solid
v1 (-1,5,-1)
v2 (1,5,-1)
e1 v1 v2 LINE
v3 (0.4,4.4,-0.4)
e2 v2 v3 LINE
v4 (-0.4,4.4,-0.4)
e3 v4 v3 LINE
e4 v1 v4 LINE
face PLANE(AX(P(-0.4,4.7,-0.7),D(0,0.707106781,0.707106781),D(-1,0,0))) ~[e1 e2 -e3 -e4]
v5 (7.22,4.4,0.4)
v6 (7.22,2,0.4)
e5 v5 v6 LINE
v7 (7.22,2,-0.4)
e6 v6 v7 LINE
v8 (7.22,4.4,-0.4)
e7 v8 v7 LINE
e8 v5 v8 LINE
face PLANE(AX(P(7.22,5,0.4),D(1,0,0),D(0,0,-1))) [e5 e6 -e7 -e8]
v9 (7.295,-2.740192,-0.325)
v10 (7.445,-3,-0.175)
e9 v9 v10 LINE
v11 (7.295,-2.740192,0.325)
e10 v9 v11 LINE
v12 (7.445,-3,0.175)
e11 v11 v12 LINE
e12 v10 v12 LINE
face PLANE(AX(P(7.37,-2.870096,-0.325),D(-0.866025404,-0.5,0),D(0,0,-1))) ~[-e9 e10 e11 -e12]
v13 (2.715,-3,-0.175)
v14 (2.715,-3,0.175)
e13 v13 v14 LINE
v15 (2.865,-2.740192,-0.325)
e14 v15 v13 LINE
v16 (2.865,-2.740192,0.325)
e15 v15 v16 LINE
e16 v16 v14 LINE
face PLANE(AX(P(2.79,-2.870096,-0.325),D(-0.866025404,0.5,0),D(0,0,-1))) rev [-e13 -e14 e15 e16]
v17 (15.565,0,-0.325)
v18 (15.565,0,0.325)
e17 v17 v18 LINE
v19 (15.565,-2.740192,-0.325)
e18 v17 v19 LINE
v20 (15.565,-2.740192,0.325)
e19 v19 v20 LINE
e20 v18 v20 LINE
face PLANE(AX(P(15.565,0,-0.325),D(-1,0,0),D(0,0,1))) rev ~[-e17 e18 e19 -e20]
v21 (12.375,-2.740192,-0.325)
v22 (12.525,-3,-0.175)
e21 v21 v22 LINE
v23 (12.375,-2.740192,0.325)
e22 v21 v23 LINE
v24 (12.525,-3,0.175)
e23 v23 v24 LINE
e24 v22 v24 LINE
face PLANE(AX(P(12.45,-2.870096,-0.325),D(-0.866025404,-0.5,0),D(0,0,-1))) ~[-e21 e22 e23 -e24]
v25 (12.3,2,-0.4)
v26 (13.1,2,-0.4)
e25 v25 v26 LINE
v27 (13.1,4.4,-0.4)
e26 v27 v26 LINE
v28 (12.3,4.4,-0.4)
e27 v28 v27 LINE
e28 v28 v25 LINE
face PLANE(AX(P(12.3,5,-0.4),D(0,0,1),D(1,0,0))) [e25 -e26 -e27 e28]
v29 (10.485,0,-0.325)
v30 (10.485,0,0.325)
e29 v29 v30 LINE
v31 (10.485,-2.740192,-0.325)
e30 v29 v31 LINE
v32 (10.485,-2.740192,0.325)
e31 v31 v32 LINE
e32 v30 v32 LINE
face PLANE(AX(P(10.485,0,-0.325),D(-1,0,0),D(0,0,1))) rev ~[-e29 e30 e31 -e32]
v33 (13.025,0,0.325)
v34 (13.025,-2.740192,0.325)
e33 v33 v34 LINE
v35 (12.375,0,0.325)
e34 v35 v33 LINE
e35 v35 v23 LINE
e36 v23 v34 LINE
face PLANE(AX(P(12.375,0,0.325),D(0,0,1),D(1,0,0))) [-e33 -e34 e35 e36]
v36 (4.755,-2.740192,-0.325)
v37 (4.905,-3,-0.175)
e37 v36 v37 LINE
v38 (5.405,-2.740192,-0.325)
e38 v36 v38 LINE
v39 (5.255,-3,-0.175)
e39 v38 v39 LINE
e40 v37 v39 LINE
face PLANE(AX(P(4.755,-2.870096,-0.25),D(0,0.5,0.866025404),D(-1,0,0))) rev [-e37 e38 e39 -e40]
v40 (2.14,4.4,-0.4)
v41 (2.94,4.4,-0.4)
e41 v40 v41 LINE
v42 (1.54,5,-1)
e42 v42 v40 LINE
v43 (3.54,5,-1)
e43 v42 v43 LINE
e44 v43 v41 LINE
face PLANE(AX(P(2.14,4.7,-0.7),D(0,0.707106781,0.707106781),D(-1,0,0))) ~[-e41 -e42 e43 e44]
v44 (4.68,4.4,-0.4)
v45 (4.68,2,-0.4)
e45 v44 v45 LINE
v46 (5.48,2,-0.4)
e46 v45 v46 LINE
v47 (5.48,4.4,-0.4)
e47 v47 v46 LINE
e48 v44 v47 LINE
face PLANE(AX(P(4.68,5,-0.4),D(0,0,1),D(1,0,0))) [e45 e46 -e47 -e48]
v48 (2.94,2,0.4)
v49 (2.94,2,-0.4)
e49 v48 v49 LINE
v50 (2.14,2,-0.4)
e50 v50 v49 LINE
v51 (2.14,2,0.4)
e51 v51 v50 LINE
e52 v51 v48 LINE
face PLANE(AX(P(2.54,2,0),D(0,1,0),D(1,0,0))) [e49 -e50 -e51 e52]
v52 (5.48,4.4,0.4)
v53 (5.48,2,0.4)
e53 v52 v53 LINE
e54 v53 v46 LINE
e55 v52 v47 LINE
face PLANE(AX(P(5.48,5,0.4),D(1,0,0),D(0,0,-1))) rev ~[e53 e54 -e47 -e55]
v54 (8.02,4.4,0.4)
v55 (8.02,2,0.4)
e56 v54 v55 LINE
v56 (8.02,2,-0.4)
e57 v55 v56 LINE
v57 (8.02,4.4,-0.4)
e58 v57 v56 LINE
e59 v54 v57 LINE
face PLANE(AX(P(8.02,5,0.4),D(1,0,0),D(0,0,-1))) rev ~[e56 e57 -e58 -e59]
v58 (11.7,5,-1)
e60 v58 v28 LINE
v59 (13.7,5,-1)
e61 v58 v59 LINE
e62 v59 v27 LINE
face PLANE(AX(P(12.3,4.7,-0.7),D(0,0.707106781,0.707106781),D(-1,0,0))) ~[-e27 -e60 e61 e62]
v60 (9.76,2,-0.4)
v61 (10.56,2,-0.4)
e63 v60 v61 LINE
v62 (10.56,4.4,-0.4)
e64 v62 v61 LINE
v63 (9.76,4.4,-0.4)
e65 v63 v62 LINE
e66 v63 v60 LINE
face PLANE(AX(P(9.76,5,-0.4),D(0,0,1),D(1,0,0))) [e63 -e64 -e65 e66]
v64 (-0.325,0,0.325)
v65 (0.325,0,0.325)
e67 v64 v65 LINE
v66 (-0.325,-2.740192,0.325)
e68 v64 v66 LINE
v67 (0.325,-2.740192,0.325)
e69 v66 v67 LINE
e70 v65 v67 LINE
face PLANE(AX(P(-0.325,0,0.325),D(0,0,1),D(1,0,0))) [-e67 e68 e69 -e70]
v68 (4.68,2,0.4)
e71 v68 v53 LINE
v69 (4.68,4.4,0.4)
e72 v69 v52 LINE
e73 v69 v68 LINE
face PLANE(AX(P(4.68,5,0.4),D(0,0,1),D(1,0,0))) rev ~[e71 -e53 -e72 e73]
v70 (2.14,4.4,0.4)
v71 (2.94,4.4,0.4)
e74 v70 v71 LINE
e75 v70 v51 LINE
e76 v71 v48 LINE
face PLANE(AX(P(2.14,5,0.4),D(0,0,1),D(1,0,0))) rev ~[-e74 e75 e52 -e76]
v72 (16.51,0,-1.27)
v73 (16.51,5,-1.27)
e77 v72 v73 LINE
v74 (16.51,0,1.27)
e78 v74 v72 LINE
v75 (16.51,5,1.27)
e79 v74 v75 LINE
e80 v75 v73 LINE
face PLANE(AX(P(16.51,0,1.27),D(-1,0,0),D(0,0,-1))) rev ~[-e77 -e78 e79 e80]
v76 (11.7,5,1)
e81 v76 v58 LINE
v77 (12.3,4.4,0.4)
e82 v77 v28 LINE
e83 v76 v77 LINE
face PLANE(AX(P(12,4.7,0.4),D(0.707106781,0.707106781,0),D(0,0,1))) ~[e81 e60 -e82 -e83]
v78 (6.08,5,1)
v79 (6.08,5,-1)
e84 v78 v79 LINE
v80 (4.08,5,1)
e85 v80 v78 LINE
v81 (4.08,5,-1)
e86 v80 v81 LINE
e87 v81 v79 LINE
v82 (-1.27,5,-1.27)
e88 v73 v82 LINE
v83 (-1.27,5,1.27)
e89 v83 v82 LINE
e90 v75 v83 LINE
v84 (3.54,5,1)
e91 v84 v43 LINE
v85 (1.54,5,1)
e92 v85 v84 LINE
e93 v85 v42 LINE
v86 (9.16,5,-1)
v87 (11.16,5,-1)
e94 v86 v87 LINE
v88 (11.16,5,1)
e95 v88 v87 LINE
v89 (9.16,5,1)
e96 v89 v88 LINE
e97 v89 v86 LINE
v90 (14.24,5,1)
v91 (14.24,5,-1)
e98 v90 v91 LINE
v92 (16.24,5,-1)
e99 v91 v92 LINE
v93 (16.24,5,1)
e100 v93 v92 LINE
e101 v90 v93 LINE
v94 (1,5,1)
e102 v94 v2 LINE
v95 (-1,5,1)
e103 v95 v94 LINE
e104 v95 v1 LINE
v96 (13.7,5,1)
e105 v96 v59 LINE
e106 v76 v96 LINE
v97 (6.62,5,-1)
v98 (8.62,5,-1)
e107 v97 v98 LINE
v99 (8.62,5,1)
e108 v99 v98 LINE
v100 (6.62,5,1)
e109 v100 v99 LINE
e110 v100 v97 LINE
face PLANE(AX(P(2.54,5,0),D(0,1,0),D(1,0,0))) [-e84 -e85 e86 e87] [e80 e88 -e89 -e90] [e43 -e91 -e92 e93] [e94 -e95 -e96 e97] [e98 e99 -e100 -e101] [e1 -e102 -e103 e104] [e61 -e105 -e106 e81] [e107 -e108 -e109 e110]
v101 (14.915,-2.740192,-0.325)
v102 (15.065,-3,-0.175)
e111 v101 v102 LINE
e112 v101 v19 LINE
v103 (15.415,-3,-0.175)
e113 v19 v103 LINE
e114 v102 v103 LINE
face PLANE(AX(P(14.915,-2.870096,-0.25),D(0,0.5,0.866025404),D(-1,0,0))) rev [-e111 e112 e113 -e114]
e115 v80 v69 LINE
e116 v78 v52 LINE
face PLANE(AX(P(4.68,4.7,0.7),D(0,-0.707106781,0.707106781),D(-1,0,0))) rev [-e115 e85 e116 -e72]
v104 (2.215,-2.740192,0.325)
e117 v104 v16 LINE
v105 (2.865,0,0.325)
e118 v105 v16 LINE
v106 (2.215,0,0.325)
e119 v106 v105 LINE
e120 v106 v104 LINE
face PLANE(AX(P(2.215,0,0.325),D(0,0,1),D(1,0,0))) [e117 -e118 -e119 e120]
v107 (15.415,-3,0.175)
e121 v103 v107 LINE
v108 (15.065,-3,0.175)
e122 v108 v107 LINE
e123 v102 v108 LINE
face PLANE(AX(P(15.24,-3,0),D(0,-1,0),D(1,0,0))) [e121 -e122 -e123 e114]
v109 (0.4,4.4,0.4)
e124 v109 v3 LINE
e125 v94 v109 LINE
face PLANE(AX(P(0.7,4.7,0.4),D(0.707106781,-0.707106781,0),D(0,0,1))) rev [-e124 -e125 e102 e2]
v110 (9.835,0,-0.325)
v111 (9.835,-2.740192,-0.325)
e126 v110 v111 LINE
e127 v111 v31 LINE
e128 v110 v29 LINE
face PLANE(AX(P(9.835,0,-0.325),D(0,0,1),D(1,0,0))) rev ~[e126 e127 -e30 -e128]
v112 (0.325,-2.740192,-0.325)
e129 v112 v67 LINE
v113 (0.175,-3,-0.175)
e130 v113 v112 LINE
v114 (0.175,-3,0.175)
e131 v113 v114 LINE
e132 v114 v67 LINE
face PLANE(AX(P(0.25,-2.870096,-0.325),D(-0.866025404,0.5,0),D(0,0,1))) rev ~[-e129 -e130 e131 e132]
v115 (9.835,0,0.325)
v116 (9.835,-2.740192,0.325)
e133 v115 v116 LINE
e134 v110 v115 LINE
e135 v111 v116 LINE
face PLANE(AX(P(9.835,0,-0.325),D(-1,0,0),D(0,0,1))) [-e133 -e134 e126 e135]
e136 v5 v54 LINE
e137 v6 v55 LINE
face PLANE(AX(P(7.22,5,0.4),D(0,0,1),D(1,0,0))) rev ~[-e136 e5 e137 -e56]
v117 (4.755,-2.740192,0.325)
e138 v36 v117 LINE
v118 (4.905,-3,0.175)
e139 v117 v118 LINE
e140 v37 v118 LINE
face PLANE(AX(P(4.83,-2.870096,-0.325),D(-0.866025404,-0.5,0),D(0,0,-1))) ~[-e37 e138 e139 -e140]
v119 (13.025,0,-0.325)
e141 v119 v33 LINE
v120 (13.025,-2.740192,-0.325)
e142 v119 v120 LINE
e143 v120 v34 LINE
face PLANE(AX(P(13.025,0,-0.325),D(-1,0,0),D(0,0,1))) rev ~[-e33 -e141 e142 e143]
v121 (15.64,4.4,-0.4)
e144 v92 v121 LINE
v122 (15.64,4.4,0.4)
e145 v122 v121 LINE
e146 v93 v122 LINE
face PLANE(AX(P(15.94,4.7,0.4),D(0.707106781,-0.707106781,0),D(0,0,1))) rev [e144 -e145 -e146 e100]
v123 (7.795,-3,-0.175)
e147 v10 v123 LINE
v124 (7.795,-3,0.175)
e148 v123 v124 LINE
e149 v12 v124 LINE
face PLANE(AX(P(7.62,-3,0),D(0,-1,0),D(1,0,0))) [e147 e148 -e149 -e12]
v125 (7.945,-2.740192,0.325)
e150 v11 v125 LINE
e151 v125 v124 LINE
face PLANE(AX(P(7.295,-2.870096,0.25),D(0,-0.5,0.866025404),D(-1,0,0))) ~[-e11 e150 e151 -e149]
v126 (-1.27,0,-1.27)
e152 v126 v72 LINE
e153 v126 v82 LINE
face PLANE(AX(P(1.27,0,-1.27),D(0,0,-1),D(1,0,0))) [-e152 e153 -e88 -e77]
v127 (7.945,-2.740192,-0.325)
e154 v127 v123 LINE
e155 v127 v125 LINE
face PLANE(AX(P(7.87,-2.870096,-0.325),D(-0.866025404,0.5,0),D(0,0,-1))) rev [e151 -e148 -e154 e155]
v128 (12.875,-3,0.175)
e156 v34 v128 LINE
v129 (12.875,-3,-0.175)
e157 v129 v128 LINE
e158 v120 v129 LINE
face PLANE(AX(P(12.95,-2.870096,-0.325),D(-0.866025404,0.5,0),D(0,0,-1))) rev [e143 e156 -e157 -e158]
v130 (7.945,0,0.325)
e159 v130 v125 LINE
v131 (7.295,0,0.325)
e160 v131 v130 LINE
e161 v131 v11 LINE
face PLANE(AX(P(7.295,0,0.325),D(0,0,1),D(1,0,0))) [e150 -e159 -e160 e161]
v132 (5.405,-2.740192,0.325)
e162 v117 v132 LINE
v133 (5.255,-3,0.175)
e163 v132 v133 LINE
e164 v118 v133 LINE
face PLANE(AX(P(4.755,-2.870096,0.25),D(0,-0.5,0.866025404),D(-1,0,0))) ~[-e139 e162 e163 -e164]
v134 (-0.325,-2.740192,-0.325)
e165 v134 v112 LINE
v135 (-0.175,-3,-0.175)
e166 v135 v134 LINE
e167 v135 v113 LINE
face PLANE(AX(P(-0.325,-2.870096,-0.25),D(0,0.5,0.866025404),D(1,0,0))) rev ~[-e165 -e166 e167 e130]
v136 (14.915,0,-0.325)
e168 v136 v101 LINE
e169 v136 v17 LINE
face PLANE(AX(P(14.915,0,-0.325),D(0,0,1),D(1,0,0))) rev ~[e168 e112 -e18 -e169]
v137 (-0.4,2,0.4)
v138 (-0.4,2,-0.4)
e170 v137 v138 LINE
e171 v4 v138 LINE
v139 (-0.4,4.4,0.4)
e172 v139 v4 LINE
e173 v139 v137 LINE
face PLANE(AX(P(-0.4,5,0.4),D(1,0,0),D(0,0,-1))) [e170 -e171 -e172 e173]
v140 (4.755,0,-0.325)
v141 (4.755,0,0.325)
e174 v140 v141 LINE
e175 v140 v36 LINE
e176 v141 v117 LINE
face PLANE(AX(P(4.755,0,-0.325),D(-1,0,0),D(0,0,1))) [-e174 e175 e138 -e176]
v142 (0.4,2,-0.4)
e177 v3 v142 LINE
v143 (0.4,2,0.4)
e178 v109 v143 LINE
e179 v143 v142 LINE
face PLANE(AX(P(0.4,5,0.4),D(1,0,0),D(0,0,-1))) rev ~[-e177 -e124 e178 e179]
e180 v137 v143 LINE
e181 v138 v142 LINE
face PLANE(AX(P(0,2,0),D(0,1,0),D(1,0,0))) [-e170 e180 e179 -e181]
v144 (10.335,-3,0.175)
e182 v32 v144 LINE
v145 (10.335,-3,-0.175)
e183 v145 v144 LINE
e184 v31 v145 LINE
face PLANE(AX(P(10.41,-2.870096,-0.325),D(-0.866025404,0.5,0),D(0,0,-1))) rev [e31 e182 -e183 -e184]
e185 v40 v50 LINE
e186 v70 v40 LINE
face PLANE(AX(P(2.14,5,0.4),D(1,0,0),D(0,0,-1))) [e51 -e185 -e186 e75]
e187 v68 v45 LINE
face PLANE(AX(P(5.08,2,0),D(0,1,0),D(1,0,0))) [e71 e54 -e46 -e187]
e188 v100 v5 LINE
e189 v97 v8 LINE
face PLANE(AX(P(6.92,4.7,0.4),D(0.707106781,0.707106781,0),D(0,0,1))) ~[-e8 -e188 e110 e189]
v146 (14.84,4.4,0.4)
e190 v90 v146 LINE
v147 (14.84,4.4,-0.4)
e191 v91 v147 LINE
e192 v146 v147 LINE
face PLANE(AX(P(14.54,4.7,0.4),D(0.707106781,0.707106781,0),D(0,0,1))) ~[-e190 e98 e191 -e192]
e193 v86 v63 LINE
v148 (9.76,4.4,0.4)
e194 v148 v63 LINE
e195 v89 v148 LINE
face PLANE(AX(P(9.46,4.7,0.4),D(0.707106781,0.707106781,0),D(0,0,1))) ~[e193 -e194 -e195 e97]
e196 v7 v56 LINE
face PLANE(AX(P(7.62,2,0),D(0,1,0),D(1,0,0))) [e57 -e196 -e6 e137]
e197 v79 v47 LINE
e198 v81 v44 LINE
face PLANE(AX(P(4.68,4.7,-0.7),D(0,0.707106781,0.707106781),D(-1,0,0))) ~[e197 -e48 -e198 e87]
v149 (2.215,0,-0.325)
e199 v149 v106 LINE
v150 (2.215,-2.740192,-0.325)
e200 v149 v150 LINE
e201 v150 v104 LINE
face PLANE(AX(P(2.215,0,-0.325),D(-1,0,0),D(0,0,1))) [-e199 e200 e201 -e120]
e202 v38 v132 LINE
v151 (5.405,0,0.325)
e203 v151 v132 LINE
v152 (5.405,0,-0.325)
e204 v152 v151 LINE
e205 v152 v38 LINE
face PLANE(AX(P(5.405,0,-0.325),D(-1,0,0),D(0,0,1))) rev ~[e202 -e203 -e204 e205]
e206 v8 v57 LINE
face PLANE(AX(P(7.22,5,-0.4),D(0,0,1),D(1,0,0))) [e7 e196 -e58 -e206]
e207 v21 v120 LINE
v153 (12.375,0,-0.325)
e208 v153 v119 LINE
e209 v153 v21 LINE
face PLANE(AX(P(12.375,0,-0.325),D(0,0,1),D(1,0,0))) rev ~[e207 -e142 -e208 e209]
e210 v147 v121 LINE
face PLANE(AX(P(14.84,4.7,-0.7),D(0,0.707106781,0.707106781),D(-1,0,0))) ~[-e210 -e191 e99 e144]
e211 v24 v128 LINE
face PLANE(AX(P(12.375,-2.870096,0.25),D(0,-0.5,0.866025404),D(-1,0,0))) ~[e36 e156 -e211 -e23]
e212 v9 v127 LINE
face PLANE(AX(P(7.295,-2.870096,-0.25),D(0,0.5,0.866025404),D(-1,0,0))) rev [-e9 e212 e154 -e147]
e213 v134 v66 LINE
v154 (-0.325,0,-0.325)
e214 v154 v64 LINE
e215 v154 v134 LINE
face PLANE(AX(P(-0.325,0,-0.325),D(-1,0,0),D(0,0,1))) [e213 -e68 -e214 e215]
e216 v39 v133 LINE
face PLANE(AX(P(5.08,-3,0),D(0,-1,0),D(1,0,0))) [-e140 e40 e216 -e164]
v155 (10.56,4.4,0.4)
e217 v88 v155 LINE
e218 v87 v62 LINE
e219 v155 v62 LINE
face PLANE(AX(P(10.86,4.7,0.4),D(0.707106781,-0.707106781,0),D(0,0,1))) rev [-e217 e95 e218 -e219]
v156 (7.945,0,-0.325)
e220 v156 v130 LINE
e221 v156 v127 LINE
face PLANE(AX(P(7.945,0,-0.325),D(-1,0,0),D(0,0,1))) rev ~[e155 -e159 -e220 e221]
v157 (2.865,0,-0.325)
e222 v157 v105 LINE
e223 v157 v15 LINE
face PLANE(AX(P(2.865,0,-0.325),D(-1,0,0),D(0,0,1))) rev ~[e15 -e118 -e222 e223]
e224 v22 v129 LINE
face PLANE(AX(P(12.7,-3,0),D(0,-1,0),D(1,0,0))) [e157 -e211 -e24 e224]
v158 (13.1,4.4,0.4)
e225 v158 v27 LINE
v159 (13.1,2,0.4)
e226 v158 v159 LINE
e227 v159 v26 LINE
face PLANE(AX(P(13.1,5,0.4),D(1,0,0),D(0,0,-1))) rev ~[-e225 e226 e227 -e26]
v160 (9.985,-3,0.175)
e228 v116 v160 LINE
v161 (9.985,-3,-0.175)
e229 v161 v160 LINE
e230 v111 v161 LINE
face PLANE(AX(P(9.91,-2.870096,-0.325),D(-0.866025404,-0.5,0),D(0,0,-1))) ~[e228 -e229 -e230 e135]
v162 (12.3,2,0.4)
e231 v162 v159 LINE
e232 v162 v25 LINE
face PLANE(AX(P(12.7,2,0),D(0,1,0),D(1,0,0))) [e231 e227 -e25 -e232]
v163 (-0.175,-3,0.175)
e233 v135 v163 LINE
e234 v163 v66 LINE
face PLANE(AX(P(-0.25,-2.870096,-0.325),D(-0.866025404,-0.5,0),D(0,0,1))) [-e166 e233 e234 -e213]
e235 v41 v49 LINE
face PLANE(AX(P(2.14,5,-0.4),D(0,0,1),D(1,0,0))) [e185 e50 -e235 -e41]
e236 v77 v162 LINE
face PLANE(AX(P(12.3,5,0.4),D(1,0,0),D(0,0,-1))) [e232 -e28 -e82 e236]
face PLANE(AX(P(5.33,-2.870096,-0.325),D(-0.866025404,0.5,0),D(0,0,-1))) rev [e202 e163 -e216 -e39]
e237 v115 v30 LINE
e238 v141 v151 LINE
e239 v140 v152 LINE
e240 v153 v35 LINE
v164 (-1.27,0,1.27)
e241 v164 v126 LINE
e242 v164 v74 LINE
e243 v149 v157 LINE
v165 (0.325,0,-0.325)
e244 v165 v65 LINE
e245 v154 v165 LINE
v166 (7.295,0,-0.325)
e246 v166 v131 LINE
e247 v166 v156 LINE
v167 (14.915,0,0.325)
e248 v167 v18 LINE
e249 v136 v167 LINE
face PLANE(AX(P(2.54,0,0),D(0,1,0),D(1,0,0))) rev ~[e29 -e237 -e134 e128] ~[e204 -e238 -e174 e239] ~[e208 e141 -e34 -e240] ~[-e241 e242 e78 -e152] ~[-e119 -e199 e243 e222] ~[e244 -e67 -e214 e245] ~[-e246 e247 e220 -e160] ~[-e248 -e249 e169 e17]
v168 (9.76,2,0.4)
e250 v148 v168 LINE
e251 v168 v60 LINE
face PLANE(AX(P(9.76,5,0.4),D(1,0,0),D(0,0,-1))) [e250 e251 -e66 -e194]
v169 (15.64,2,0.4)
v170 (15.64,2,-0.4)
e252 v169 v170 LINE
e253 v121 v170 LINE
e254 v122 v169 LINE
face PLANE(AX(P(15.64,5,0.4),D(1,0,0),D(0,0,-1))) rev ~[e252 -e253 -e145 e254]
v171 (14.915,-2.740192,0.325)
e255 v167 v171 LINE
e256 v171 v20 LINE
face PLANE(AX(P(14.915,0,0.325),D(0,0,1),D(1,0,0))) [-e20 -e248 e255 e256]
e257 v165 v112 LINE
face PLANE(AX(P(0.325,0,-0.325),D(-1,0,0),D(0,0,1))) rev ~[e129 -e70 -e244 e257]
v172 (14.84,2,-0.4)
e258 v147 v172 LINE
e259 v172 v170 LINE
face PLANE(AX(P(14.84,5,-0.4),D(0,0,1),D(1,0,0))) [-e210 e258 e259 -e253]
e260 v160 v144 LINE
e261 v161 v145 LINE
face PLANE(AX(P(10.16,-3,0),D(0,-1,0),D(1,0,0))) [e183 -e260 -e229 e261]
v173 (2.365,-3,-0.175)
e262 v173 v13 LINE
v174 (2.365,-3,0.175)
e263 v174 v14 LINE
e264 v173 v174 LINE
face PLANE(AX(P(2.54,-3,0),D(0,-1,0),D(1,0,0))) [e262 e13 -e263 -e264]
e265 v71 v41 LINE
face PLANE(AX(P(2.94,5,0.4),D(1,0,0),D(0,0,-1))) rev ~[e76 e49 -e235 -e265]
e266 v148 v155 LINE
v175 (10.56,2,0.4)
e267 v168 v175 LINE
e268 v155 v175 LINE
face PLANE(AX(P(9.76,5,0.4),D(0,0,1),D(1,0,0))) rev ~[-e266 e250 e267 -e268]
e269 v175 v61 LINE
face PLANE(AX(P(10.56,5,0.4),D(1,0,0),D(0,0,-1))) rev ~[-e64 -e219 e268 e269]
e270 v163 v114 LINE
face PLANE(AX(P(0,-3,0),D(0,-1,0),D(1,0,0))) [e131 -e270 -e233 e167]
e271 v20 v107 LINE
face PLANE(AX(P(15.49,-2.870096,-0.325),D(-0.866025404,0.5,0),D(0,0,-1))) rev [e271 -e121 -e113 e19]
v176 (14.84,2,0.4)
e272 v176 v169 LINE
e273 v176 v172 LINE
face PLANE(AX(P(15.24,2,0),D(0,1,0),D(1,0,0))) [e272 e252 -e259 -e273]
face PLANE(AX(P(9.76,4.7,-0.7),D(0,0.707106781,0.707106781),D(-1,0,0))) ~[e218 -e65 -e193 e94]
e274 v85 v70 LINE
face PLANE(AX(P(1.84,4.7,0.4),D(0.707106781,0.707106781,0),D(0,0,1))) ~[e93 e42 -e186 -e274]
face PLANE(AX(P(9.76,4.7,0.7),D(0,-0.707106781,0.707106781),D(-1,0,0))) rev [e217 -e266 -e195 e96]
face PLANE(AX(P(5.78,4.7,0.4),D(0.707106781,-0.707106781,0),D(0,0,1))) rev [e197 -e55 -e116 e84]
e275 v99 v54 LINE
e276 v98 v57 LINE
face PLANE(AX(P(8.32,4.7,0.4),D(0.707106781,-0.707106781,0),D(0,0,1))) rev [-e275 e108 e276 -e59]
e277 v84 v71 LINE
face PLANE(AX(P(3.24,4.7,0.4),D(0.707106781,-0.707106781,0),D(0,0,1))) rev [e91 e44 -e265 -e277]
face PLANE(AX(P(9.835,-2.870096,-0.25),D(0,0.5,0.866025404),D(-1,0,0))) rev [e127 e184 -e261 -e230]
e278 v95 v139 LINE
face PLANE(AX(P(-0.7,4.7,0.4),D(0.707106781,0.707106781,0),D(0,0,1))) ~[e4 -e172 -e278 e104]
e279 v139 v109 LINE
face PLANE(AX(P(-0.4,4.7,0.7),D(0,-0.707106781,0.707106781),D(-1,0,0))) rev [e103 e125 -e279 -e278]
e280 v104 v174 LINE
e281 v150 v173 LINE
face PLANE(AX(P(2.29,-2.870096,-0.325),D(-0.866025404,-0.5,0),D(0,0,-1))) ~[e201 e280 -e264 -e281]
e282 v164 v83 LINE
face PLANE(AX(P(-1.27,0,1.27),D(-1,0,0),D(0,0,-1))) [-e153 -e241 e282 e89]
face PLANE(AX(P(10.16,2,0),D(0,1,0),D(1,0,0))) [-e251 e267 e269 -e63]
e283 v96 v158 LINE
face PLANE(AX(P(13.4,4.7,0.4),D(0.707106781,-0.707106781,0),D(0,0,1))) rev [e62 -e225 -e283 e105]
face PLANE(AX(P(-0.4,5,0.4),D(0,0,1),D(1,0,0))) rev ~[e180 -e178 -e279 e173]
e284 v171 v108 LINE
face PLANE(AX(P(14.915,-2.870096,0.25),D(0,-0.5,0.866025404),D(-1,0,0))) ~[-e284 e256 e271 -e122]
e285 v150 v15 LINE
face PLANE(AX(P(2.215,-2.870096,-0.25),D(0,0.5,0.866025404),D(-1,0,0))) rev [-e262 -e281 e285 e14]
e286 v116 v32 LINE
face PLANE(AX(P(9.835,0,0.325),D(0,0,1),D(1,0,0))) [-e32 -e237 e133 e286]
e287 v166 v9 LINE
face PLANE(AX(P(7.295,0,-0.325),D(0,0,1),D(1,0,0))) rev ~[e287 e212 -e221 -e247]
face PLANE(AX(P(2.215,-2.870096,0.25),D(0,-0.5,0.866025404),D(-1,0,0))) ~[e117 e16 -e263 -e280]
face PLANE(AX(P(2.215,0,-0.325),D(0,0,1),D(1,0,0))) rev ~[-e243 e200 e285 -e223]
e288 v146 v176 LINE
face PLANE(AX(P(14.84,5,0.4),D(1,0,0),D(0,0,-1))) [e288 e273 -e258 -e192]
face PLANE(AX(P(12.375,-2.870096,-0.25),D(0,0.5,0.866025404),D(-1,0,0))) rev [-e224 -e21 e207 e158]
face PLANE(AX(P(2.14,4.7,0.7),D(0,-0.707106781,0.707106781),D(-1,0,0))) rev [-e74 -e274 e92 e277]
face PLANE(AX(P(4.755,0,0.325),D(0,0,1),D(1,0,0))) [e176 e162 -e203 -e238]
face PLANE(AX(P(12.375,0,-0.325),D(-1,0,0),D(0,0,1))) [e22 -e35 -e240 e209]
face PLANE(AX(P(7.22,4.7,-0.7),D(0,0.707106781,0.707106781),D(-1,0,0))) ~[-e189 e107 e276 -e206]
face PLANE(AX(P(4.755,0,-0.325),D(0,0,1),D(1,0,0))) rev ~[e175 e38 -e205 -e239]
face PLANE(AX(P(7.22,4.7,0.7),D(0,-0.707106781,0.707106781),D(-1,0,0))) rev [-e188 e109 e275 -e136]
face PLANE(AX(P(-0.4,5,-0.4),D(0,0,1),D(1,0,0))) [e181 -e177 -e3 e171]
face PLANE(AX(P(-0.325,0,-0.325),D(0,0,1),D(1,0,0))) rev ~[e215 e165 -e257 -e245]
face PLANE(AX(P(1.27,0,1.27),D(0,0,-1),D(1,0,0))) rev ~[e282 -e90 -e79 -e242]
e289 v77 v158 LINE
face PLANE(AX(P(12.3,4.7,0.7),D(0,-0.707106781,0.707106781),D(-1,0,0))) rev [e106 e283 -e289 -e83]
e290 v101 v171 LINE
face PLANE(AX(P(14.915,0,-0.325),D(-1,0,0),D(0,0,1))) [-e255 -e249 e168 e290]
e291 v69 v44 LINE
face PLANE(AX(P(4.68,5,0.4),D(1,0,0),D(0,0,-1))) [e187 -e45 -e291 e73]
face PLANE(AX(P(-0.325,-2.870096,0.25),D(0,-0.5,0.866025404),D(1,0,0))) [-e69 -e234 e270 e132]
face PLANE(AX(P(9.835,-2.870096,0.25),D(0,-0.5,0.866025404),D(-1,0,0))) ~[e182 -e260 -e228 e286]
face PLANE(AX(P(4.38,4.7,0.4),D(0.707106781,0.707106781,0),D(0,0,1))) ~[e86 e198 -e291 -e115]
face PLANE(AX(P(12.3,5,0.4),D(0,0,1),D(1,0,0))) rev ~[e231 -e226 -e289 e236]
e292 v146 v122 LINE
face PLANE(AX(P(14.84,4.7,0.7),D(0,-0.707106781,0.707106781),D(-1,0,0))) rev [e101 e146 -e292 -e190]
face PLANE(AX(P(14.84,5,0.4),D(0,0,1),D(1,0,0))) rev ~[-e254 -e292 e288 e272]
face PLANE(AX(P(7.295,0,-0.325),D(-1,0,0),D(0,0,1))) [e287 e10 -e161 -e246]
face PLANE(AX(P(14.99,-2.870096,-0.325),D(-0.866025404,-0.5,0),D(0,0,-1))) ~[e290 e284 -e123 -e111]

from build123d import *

# Parameters (mm, degrees)
SKETCH1_W                   = 2.54
SKETCH1_H                   = 2.54
BOSS_EXTRUDE1_DEPTH         = 5
SKETCH2_W                   = 0.65
SKETCH2_H                   = 0.65
BOSS_EXTRUDE2_DEPTH         = 3
CHAMFER1_SIZE               = 0.15
CHAMFER1_SIZE2              = 0.259807621
SKETCH3_W                   = 0.8
SKETCH3_H                   = 0.8
CUT_EXTRUDE1_DEPTH          = 3
CHAMFER2_SIZE               = 0.6
LPATTERN1_COUNT             = 7
LPATTERN1_PITCH             = 2.54
CHAMFER1_OF_LPATTERN1_SIZE2 = 0.15
CHAMFER1_OF_LPATTERN1_SIZE  = 0.259807621
CHAMFER2_OF_LPATTERN1_SIZE  = 0.6


with BuildPart() as part:
    # Sketch1 → Boss-Extrude1 (new body)
    with BuildSketch(Plane(origin=(0, 0, 0), x_dir=(1, 0, 0), z_dir=(0, 1, 0))):
        Rectangle(SKETCH1_W, SKETCH1_H)
    boss_extrude1 = extrude(amount=BOSS_EXTRUDE1_DEPTH)

    # Sketch2 → Boss-Extrude2 (add)
    with BuildSketch(Plane.XZ):
        Rectangle(SKETCH2_W, SKETCH2_H)
    boss_extrude2 = extrude(amount=BOSS_EXTRUDE2_DEPTH)

    # Chamfer1
    chamfer1_edges = [part.edges().sort_by_distance(p)[0] for p in [
        (0.325, -3, 0),
        (0, -3, 0.325),
        (-0.325, -3, 0),
        (0, -3, -0.325),
    ]]
    chamfer1_side = [part.faces().sort_by_distance(p)[0] for p in [
        (0, -3, 0),
    ]]
    chamfer(chamfer1_edges, length=CHAMFER1_SIZE, length2=CHAMFER1_SIZE2, reference=chamfer1_side[0])

    # Sketch3 → Cut-Extrude1 (cut)
    with BuildSketch(Plane(origin=(0, 5, 0), x_dir=(1, 0, 0), z_dir=(0, 1, 0))):
        Rectangle(SKETCH3_W, SKETCH3_H)
    cut_extrude1 = extrude(amount=-CUT_EXTRUDE1_DEPTH, mode=Mode.SUBTRACT)

    # Chamfer2
    chamfer2_edges = [part.edges().sort_by_distance(p)[0] for p in [
        (0.4, 5, 0),
        (0, 5, -0.4),
        (-0.4, 5, 0),
        (0, 5, 0.4),
    ]]
    chamfer(chamfer2_edges, length=CHAMFER2_SIZE)

    # LPattern1: Boss-Extrude1, Boss-Extrude2, Cut-Extrude1 ×7
    with Locations(*[(i * LPATTERN1_PITCH, 0, 0) for i in range(1, LPATTERN1_COUNT)]):
        add(boss_extrude1)
        add(boss_extrude2)
        add(cut_extrude1, mode=Mode.SUBTRACT)

    # Chamfer1 of LPattern1
    chamfer1_of_lpattern1_edges = [part.edges().sort_by_distance(p)[0] for p in [
        (2.865, -3, 0),
        (2.54, -3, 0.325),
        (2.215, -3, 0),
        (2.54, -3, -0.325),
        (5.405, -3, 0),
        (5.08, -3, 0.325),
        (4.755, -3, 0),
        (5.08, -3, -0.325),
        (7.945, -3, 0),
        (7.62, -3, 0.325),
        (7.295, -3, 0),
        (7.62, -3, -0.325),
        (10.485, -3, 0),
        (10.16, -3, 0.325),
        (9.835, -3, 0),
        (10.16, -3, -0.325),
        (13.025, -3, 0),
        (12.7, -3, 0.325),
        (12.375, -3, 0),
        (12.7, -3, -0.325),
        (15.565, -3, 0),
        (15.24, -3, 0.325),
        (14.915, -3, 0),
        (15.24, -3, -0.325),
    ]]
    chamfer(chamfer1_of_lpattern1_edges, length=CHAMFER1_OF_LPATTERN1_SIZE, length2=CHAMFER1_OF_LPATTERN1_SIZE2)

    # Chamfer2 of LPattern1
    chamfer2_of_lpattern1_edges = [part.edges().sort_by_distance(p)[0] for p in [
        (2.94, 5, 0),
        (2.54, 5, -0.4),
        (2.14, 5, 0),
        (2.54, 5, 0.4),
        (5.48, 5, 0),
        (5.08, 5, -0.4),
        (4.68, 5, 0),
        (5.08, 5, 0.4),
        (8.02, 5, 0),
        (7.62, 5, -0.4),
        (7.22, 5, 0),
        (7.62, 5, 0.4),
        (10.56, 5, 0),
        (10.16, 5, -0.4),
        (9.76, 5, 0),
        (10.16, 5, 0.4),
        (13.1, 5, 0),
        (12.7, 5, -0.4),
        (12.3, 5, 0),
        (12.7, 5, 0.4),
        (15.64, 5, 0),
        (15.24, 5, -0.4),
        (14.84, 5, 0),
        (15.24, 5, 0.4),
    ]]
    chamfer(chamfer2_of_lpattern1_edges, length=CHAMFER2_OF_LPATTERN1_SIZE)


solid = part.part
